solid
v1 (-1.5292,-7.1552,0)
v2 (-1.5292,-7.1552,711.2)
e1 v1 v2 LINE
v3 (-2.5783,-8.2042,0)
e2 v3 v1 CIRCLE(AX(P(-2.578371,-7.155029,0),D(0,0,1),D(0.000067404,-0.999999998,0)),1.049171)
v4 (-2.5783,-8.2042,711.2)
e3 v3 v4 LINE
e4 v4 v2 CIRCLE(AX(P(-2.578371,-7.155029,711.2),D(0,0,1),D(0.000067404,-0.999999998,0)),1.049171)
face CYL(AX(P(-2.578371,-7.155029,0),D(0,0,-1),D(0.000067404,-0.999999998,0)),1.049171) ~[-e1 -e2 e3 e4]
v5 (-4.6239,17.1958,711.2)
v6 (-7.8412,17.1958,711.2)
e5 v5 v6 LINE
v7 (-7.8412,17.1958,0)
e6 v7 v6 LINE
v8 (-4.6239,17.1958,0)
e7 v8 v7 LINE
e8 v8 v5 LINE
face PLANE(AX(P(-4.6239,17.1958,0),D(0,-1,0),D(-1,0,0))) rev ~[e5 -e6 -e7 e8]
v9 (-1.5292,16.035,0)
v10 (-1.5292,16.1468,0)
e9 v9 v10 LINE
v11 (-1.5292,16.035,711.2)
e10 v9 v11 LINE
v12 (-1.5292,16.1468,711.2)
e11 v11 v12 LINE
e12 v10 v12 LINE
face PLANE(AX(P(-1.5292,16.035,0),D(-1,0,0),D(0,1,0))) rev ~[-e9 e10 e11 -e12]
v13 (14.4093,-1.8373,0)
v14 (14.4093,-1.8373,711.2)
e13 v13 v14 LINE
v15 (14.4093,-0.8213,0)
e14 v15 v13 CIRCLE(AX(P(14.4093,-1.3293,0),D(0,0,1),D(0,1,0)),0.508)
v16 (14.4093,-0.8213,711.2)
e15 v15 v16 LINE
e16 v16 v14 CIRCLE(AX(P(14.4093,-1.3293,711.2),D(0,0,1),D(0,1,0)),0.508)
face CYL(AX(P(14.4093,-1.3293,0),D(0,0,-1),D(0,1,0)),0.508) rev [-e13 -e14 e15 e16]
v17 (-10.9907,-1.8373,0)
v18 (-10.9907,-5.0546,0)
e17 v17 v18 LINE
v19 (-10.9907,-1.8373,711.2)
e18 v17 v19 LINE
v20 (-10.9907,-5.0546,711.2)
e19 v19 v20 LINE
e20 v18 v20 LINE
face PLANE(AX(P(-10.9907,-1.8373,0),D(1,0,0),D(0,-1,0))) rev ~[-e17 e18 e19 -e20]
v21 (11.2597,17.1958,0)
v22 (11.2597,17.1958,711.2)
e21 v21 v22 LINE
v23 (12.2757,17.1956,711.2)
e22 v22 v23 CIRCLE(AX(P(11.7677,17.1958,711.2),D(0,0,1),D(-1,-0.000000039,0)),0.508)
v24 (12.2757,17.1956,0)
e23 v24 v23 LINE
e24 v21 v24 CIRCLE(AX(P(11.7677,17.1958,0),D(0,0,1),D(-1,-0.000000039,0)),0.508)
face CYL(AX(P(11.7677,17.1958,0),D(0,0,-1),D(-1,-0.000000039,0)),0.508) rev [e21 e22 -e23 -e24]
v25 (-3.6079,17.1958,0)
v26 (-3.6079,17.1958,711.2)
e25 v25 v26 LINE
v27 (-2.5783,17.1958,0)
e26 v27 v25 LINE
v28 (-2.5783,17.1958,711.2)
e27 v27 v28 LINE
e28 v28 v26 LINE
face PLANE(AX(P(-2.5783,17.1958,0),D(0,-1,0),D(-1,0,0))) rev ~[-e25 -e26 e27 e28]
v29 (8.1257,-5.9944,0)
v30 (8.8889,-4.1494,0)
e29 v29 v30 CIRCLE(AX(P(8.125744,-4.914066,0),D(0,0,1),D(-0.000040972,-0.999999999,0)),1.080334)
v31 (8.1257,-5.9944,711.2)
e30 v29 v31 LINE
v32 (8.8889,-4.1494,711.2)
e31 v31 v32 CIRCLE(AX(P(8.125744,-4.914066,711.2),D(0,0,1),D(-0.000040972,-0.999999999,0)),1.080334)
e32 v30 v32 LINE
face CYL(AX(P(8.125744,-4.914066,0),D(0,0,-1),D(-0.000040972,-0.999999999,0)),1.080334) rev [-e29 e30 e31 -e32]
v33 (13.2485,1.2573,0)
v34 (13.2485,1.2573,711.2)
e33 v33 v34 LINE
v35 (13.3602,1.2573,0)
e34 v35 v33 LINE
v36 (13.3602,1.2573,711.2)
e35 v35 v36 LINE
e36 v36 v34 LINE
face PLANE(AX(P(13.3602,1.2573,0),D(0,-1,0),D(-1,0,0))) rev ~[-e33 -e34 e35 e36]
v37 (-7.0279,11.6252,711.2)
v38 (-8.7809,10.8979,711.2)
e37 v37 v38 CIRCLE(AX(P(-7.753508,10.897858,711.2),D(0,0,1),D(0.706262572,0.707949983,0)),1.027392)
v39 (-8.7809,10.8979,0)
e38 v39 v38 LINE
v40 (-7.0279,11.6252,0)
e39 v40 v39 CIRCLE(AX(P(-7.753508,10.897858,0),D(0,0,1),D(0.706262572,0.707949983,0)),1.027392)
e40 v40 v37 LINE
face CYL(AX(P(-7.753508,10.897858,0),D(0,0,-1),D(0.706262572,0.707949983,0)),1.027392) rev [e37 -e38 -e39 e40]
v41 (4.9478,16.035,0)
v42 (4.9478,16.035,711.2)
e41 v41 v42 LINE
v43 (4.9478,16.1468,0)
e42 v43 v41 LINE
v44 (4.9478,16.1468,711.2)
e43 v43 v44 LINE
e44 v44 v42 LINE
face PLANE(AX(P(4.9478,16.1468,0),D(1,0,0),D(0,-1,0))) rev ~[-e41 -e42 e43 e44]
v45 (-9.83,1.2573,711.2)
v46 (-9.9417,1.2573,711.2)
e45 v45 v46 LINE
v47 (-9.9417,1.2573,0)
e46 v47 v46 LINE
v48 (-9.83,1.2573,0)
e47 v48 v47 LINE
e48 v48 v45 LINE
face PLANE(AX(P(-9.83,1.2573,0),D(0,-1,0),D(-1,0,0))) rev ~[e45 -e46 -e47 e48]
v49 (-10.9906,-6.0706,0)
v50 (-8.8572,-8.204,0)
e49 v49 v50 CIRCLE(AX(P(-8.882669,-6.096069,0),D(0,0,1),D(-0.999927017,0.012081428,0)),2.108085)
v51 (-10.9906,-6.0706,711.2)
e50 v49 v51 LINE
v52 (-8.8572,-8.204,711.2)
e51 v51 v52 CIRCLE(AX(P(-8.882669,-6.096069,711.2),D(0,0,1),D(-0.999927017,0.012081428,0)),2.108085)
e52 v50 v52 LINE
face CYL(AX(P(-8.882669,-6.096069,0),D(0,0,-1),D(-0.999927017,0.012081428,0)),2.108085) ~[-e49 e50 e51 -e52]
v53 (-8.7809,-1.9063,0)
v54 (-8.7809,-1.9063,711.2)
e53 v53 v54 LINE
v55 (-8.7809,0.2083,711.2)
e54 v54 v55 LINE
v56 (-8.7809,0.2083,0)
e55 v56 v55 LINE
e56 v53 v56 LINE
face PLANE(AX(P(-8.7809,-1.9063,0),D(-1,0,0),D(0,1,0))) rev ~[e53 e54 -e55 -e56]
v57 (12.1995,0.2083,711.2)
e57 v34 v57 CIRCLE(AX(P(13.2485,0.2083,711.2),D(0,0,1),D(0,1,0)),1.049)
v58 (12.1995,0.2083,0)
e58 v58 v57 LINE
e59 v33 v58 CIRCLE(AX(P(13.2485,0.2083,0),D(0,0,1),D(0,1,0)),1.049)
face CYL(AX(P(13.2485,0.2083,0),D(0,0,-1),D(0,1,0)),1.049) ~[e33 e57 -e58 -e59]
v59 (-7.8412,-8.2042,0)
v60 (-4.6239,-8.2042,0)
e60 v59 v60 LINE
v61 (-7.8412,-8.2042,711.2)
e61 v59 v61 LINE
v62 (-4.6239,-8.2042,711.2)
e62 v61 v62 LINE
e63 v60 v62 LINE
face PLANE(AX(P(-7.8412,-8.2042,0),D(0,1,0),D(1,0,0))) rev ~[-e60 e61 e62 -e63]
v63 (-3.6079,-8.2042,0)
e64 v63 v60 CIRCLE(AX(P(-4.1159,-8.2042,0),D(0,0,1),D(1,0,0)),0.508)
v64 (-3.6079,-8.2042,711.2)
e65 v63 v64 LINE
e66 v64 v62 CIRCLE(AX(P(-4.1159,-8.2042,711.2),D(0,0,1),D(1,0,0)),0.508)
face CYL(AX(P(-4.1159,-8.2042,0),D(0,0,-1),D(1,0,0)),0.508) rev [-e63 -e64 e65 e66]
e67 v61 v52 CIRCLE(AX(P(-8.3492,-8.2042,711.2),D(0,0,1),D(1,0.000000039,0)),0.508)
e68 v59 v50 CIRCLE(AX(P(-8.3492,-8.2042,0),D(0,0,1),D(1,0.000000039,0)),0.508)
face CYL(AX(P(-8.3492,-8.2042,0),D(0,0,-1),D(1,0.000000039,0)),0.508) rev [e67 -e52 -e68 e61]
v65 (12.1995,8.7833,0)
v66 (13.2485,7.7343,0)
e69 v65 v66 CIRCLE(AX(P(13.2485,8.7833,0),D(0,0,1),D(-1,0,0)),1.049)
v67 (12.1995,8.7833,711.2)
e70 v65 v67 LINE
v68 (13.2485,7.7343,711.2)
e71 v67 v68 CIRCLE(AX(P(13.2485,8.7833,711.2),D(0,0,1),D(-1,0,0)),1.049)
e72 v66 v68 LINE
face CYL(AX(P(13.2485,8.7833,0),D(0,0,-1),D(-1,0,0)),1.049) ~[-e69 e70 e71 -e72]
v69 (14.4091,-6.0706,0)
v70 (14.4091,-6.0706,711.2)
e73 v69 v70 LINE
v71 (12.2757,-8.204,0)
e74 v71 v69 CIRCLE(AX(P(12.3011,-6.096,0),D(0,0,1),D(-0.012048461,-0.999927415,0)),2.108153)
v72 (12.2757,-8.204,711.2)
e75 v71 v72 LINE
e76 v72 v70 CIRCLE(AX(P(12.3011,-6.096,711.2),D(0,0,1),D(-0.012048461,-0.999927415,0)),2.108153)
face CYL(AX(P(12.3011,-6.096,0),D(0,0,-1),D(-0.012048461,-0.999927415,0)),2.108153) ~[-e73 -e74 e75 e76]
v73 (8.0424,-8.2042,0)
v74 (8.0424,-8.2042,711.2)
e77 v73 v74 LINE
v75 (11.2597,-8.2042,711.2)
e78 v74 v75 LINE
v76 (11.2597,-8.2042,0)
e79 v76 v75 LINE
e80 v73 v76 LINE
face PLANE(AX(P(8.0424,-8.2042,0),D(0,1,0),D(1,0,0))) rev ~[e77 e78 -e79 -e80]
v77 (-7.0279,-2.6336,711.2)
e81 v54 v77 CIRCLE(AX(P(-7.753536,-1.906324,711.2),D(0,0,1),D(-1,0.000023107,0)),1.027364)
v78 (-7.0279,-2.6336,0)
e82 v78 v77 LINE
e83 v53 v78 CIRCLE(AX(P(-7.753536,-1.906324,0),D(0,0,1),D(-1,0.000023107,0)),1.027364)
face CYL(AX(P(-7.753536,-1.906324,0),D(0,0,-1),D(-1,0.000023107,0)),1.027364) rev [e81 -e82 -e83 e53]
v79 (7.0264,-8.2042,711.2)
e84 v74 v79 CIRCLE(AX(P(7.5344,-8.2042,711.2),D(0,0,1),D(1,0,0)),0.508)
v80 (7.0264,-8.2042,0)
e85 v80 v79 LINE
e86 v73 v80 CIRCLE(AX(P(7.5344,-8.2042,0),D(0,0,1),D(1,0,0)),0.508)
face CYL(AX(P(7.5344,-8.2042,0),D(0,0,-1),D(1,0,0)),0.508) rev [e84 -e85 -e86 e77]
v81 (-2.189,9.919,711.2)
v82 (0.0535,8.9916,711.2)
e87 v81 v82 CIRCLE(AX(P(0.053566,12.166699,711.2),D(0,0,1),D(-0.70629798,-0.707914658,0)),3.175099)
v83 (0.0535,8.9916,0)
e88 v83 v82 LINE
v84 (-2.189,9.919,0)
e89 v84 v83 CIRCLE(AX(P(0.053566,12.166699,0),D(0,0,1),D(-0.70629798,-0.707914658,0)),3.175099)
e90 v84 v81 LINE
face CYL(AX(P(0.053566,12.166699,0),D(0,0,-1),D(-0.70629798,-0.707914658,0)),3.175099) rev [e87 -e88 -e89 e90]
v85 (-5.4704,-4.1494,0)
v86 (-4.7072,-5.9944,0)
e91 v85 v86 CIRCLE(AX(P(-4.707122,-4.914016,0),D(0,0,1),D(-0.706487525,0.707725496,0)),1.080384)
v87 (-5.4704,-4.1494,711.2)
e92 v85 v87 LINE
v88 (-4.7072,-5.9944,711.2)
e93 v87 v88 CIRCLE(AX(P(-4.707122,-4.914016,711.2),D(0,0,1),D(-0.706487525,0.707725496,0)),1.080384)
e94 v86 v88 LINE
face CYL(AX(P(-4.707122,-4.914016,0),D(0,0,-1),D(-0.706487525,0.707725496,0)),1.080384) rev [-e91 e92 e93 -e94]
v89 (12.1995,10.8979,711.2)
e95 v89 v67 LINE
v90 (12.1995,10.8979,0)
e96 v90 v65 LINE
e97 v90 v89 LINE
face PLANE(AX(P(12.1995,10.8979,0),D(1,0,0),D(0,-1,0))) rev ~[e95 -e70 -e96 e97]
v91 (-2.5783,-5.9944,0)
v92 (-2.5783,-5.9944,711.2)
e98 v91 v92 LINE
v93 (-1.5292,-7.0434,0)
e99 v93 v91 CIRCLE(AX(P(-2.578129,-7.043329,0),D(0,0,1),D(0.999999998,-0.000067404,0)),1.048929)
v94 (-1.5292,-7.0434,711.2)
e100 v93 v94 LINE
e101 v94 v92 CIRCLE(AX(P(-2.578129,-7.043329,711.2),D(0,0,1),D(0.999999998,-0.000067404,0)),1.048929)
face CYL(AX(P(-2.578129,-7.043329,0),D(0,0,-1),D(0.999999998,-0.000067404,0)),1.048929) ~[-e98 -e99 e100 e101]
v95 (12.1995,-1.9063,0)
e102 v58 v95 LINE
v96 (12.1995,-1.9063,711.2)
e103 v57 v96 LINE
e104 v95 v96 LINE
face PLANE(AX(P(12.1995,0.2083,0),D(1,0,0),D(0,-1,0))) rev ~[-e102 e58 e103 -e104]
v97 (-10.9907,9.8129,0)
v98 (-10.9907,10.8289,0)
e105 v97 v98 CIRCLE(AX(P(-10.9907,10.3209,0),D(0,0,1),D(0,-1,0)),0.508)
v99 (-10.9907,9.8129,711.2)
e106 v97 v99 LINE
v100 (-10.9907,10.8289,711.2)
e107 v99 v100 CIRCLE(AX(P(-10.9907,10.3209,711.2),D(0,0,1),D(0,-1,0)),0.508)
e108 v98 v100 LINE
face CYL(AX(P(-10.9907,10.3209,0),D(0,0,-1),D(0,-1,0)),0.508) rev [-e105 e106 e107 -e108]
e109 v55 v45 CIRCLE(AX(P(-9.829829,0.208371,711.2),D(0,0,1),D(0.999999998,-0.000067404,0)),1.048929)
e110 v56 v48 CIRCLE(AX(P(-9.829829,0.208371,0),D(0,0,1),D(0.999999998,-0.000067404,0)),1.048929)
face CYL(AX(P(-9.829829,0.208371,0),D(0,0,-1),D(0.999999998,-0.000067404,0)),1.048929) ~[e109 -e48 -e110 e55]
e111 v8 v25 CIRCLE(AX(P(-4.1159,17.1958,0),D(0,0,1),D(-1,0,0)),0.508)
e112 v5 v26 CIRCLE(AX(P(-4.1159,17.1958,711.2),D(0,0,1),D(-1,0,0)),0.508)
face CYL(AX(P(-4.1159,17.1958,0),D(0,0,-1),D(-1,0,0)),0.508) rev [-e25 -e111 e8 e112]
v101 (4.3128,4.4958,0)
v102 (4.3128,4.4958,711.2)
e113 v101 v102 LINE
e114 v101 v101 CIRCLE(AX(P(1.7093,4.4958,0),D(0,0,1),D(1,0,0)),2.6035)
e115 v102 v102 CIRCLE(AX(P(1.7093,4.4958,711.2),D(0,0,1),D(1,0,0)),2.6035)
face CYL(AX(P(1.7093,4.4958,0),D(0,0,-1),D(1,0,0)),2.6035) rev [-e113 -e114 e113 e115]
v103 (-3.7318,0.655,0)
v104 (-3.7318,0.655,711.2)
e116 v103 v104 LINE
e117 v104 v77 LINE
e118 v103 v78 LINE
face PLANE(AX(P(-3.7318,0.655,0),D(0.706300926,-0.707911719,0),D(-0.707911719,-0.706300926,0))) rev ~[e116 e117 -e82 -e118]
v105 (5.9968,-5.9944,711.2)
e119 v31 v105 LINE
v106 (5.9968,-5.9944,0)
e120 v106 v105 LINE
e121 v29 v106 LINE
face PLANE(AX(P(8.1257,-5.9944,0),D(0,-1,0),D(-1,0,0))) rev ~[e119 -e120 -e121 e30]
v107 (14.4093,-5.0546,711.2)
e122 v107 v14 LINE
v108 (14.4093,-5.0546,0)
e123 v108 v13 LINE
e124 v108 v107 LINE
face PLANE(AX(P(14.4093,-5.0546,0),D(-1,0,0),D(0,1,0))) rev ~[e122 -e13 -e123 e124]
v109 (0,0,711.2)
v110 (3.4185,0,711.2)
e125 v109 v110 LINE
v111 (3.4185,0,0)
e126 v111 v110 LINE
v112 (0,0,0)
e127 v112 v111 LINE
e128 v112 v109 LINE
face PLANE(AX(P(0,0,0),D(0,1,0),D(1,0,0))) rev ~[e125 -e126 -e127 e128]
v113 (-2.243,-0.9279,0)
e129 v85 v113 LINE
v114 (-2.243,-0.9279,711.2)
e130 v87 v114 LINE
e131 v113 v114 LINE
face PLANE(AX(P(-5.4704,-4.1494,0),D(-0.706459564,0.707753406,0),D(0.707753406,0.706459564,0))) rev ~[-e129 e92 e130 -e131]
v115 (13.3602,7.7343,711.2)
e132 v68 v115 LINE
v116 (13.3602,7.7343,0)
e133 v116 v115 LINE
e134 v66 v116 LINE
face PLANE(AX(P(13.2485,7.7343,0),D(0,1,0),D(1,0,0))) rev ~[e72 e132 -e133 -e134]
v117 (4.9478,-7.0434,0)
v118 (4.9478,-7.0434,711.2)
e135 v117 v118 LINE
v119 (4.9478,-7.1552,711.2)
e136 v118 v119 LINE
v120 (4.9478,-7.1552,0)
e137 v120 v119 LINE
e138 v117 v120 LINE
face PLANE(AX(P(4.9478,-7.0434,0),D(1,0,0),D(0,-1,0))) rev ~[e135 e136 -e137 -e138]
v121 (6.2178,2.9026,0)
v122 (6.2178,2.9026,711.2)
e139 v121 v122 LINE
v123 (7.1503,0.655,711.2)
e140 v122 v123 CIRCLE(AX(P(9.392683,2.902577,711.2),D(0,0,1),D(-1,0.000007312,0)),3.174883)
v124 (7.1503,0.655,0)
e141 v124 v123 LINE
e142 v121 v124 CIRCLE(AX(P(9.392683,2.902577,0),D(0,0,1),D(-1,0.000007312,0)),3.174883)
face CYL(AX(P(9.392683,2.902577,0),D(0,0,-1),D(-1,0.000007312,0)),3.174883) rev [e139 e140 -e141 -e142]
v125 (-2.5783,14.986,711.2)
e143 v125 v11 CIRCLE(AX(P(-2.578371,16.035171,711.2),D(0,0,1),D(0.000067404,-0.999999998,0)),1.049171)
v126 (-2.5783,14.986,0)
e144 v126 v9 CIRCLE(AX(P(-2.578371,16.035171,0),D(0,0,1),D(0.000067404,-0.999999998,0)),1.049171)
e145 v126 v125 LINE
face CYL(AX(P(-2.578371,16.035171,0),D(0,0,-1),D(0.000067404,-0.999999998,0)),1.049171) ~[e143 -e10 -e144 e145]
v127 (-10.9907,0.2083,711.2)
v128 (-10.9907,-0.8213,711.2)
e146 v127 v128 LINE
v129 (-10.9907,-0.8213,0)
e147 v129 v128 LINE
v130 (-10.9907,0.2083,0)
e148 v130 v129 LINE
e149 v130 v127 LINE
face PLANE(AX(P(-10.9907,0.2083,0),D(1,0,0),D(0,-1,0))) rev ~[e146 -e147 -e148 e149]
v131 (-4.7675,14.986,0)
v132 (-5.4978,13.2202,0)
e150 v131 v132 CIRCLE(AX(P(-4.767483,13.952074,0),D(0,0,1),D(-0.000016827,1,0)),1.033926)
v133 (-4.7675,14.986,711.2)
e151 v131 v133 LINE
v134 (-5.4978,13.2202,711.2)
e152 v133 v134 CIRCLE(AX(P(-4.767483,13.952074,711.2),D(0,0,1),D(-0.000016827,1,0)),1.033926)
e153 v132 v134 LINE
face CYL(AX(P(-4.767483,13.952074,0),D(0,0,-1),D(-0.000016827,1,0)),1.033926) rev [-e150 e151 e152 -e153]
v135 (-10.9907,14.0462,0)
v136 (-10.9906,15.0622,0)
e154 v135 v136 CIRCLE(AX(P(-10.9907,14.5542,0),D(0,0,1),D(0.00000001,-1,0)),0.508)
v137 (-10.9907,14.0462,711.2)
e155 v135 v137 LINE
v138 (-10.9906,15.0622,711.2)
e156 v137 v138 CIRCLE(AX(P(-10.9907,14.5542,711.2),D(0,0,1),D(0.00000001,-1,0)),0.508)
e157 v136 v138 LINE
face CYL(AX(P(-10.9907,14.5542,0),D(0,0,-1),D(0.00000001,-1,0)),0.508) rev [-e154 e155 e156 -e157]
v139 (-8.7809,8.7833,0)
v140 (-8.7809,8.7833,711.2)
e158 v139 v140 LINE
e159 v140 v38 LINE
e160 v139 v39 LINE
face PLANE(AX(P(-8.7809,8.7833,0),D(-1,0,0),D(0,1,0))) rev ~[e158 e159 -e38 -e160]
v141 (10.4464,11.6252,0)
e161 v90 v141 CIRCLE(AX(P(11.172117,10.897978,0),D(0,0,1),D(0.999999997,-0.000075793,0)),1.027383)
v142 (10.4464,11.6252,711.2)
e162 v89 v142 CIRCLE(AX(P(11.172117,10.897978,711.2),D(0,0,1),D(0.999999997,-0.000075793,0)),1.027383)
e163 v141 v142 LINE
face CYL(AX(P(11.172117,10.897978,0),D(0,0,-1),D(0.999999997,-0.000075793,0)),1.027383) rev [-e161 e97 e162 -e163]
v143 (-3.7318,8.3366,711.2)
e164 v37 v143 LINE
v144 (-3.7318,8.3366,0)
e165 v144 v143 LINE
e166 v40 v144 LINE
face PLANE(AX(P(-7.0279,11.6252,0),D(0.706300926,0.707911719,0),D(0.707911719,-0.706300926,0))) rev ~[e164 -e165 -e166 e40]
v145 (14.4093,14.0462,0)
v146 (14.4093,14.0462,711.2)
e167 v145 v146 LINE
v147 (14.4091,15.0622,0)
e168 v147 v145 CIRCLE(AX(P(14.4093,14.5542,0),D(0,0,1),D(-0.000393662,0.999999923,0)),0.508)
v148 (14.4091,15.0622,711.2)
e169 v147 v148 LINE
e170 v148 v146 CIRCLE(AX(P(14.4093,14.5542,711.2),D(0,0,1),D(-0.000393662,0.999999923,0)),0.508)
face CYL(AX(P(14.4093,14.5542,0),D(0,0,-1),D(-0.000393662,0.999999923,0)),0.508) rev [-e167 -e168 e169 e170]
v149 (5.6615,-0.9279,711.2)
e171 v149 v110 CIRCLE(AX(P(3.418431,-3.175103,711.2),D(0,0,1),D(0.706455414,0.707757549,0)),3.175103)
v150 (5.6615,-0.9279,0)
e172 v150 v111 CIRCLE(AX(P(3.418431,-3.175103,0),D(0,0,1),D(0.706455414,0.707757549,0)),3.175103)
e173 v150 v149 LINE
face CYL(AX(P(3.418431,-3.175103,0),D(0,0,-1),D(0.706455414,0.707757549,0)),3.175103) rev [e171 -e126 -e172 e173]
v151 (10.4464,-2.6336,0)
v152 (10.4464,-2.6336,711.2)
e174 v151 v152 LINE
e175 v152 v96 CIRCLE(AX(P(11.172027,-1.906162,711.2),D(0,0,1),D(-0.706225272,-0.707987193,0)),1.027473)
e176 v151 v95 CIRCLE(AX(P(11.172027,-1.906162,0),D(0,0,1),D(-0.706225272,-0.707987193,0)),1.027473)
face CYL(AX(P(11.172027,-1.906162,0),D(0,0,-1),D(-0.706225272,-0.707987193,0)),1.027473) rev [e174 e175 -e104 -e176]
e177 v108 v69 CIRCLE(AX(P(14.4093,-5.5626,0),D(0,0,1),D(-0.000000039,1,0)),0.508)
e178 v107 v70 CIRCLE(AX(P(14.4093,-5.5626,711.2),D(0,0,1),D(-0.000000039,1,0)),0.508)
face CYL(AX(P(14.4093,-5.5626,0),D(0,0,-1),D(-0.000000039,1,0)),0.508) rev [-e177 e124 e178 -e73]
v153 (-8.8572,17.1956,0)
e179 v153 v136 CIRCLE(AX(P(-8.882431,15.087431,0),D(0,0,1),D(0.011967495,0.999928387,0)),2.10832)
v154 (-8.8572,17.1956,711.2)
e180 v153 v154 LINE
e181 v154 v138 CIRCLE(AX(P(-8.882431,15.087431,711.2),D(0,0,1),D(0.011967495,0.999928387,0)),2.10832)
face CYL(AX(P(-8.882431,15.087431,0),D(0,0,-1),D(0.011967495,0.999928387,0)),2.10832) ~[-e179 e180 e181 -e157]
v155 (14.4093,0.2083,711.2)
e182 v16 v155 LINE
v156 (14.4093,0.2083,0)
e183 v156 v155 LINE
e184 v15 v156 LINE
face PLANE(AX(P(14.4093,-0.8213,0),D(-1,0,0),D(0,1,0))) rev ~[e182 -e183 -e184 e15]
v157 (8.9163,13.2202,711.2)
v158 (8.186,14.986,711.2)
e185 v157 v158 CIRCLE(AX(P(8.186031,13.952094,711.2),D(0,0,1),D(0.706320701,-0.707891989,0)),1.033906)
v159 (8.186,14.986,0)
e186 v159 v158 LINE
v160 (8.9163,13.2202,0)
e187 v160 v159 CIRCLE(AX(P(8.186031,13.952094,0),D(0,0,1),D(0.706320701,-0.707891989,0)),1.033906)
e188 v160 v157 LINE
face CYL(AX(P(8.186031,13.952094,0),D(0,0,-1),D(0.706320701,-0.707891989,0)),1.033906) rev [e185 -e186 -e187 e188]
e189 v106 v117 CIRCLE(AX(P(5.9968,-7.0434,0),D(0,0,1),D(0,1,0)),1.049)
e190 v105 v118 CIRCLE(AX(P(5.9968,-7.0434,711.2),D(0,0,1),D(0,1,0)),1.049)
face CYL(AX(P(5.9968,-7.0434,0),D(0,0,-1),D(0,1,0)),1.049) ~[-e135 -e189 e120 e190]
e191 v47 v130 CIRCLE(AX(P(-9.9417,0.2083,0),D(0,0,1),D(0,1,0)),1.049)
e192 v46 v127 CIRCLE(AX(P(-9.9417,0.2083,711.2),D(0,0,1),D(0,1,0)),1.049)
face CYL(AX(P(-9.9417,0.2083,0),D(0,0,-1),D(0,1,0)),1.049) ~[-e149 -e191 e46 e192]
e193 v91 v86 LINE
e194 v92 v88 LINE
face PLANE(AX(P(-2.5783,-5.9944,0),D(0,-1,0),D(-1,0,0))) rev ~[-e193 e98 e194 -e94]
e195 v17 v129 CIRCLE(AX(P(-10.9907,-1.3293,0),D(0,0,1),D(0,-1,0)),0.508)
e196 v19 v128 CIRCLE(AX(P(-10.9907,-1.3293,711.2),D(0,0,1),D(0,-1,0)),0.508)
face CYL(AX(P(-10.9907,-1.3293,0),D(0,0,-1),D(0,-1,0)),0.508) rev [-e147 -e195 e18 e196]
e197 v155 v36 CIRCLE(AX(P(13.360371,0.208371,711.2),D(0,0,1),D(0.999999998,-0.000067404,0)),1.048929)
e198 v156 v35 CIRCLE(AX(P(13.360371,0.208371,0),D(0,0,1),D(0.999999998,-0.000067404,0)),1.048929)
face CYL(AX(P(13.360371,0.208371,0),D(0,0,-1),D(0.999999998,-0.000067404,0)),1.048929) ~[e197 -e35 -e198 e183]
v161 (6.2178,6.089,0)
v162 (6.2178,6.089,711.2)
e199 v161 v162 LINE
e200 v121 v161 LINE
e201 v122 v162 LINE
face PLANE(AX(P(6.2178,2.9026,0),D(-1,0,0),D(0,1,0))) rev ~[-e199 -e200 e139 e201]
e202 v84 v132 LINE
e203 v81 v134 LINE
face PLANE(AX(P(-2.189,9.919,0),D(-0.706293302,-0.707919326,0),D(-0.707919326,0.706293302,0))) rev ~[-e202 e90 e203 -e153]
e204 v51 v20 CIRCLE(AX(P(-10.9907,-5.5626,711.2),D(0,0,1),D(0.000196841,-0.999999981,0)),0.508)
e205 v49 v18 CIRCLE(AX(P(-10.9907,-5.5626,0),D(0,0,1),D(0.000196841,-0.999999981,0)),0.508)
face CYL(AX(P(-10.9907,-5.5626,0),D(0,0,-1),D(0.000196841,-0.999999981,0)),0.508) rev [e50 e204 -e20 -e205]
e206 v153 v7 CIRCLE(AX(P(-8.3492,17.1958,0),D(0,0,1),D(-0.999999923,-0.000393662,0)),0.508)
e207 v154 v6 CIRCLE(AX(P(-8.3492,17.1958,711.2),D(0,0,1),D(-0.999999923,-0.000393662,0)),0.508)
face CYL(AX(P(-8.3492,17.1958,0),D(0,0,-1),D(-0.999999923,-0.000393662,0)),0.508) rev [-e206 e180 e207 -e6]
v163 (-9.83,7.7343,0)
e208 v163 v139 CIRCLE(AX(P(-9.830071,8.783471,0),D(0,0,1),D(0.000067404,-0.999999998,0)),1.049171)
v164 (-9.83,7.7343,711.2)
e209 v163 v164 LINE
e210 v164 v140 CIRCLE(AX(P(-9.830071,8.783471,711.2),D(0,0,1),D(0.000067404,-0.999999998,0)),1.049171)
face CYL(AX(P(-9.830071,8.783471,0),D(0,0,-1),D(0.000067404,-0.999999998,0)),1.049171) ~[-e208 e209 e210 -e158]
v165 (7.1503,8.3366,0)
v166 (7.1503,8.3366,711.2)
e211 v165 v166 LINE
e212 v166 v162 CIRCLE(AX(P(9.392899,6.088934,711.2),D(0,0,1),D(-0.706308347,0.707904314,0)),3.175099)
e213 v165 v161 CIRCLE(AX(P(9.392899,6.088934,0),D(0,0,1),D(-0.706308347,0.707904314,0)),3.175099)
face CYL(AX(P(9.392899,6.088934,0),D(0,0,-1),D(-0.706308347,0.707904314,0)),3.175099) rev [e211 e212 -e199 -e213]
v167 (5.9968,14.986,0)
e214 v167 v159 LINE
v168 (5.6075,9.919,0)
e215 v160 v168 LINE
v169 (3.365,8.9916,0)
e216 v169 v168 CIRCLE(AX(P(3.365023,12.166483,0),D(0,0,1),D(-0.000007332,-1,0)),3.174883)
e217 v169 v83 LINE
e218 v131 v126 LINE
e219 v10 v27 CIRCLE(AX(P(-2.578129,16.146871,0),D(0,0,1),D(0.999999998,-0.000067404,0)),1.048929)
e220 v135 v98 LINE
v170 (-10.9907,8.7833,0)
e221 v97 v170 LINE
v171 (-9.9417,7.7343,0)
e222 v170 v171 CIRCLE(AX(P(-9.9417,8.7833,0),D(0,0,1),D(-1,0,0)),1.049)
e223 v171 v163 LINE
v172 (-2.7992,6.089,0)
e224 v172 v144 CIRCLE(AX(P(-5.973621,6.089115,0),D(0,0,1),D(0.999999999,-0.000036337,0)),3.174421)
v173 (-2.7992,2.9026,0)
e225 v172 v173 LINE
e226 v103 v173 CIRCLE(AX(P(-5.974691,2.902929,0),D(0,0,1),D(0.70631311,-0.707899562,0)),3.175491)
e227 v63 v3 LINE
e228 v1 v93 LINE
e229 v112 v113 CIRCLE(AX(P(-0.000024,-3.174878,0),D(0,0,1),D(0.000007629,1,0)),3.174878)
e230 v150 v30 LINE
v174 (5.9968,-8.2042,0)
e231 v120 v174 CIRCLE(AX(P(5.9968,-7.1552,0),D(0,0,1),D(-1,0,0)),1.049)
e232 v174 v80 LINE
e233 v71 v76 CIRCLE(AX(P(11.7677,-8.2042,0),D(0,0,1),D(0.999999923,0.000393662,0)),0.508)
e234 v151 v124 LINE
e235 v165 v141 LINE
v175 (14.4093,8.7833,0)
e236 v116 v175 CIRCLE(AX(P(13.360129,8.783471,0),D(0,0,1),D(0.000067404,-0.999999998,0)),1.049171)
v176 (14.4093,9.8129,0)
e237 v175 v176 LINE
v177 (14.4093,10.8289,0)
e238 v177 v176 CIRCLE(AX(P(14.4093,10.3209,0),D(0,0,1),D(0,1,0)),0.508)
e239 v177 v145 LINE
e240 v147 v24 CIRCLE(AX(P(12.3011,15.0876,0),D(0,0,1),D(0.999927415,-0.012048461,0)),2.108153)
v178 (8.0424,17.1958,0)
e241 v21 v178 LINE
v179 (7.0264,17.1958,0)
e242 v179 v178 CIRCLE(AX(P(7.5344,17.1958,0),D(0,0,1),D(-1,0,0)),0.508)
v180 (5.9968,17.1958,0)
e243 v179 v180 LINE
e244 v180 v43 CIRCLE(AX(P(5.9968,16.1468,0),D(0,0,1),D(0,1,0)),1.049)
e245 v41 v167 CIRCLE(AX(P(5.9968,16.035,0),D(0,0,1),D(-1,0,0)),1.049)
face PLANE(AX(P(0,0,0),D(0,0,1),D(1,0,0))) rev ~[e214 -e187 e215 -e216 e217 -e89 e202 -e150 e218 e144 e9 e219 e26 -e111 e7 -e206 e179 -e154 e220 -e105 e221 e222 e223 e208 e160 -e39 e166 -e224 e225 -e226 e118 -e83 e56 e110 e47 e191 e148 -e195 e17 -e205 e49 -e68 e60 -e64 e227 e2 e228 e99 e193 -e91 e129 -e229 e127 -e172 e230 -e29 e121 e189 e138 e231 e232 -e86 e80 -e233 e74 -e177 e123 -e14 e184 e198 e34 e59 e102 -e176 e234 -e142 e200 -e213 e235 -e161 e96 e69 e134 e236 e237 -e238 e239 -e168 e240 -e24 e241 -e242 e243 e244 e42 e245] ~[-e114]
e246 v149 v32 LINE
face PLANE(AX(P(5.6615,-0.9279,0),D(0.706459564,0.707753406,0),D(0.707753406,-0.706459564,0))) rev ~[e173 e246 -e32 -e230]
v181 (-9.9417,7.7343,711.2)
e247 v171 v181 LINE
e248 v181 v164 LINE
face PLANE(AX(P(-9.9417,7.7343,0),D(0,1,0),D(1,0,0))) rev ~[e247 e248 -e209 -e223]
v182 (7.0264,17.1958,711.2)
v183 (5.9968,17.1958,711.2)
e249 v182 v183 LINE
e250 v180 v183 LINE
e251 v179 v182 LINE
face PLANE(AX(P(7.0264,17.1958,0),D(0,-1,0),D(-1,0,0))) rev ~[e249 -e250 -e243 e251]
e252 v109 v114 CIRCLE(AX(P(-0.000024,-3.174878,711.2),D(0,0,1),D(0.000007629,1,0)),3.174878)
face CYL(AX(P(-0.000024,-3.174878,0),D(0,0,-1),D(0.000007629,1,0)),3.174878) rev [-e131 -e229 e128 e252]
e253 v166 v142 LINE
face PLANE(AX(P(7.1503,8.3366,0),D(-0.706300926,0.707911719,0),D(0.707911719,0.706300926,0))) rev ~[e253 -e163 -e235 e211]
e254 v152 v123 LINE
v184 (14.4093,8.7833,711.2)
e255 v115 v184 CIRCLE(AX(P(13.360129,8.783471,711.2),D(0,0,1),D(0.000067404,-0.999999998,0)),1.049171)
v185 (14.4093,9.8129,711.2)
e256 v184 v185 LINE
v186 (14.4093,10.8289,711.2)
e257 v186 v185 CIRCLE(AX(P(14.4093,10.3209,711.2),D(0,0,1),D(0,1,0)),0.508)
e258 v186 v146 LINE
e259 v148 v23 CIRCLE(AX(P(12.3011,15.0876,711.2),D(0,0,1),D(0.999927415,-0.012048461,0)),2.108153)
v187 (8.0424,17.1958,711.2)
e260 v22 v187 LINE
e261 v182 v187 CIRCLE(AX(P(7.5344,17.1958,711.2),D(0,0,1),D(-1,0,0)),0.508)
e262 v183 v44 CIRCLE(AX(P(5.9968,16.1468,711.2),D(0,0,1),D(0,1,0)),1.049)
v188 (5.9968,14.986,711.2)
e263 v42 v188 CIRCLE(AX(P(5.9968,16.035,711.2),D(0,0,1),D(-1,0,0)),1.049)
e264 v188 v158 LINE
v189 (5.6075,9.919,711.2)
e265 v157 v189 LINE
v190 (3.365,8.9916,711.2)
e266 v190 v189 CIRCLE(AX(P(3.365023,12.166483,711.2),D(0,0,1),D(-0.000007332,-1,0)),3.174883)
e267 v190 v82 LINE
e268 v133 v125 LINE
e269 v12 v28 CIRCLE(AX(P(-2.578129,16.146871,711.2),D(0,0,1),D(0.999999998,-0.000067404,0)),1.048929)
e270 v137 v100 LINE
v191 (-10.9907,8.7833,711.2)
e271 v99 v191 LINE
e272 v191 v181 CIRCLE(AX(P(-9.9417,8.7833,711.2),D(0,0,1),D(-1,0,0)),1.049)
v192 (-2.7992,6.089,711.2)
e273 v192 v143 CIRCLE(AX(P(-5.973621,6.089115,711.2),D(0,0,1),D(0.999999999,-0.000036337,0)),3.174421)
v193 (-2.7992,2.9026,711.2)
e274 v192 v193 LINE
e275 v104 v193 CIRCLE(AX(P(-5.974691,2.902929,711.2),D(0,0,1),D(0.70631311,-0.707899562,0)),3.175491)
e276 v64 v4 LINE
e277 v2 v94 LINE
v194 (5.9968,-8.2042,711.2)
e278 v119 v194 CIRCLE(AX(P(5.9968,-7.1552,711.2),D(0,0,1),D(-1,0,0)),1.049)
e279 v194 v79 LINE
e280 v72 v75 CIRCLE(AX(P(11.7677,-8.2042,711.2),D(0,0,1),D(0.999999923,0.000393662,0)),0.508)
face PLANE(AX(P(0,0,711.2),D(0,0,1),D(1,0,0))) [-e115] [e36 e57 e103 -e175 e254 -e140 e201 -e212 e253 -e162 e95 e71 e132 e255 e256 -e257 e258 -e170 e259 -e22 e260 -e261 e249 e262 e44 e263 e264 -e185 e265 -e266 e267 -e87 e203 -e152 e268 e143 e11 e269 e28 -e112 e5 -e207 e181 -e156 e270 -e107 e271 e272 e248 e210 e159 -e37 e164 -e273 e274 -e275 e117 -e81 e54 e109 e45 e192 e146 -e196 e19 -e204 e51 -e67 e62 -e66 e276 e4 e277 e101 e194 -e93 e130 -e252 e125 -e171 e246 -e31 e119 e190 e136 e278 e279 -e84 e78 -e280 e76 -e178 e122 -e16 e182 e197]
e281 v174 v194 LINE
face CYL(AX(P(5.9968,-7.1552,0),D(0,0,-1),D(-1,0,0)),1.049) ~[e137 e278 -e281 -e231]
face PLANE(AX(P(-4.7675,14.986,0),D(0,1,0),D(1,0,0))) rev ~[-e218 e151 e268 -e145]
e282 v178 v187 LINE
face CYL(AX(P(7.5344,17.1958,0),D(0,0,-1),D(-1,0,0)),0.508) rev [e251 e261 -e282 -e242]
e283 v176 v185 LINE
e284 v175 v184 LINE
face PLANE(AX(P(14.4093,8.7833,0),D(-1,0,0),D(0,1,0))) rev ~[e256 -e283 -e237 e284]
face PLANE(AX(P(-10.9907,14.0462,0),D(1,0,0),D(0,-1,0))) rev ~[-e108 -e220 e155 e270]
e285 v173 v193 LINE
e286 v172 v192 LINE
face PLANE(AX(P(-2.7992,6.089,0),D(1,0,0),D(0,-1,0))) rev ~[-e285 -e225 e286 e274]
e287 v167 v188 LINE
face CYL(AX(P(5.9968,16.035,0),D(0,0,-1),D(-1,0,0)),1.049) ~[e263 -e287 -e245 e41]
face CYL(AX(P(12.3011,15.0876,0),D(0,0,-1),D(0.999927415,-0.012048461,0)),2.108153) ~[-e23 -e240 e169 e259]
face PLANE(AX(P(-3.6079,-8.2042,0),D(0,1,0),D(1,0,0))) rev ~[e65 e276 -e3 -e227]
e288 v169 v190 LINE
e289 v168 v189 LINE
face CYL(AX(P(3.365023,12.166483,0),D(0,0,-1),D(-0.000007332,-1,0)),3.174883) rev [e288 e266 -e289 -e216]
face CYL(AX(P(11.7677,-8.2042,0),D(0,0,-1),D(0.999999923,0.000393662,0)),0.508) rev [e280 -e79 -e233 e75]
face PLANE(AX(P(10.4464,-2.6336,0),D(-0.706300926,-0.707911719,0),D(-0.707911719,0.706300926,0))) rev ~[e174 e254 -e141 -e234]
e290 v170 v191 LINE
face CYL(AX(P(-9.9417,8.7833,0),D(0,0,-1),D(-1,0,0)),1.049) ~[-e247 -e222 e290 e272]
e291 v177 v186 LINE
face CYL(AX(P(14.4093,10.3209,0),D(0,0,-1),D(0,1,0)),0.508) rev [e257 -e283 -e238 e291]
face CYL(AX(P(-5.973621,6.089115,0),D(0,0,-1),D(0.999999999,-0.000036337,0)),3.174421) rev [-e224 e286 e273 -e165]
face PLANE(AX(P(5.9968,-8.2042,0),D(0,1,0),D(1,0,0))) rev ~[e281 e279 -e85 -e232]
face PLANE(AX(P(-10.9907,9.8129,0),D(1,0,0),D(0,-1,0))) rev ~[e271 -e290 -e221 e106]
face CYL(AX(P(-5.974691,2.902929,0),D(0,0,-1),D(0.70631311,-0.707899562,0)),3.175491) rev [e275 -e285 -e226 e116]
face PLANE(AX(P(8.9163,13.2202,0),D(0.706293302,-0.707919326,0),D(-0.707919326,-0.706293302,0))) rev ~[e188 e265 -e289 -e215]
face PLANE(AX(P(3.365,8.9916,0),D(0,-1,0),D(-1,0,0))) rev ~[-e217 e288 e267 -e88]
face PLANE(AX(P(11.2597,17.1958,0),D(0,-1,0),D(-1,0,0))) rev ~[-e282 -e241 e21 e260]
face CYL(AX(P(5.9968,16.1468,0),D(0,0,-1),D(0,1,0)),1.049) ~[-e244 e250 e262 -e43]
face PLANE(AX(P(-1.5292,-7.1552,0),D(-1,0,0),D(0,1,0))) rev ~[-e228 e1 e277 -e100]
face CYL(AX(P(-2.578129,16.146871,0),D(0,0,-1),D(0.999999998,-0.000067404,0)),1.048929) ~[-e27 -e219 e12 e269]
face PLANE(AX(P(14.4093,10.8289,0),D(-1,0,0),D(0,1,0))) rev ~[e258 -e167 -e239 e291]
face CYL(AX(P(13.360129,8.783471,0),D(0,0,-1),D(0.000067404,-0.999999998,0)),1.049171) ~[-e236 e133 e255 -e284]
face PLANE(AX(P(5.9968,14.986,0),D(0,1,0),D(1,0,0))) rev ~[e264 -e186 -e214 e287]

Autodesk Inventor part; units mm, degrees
ref_plane "YZ Plane" through (0, 0, 0) normal (1, 0, 0) x (0, 1, 0)
ref_plane "XZ Plane" through (0, 0, 0) normal (0, 1, 0) x (-1, 0, 0)
ref_plane "XY Plane" through (0, 0, 0) normal (0, 0, 1) x (1, 0, 0)
sketch "Sketch1" plane through (0, 0, 0) normal (0, 0, 1) x (1, 0, 0)
  arc A0 (-5.4704, -4.1494) -> (-4.7072, -5.9944) centre (-4.7072, -4.914) ccw
  line L0 (-5.4704, -4.1494) -> (-2.243, -0.9279)
  arc A1 (0, 0) -> (-2.243, -0.9279) centre (0, -3.175) ccw
  line L1 (0, 0) -> (3.4185, 0)
  arc A2 (5.6615, -0.9279) -> (3.4185, 0) centre (3.4185, -3.175) ccw
  line L2 (5.6615, -0.9279) -> (8.8889, -4.1494)
  arc A3 (8.1257, -5.9944) -> (8.8889, -4.1494) centre (8.1257, -4.914) ccw
  line L3 (8.1257, -5.9944) -> (5.9968, -5.9944)
  arc A4 (5.9968, -5.9944) -> (4.9478, -7.0434) centre (5.9968, -7.0434) ccw
  line L4 (4.9478, -7.0434) -> (4.9478, -7.1552)
  arc A5 (4.9478, -7.1552) -> (5.9968, -8.2042) centre (5.9968, -7.1552) ccw
  line L5 (5.9968, -8.2042) -> (7.0264, -8.2042)
  arc A6 (8.0424, -8.2042) -> (7.0264, -8.2042) centre (7.5344, -8.2042) ccw
  line L6 (8.0424, -8.2042) -> (11.2597, -8.2042)
  arc A7 (12.2757, -8.204) -> (11.2597, -8.2042) centre (11.7677, -8.2042) ccw
  arc A8 (12.2757, -8.204) -> (14.4091, -6.0706) centre (12.3011, -6.096) ccw
  arc A9 (14.4093, -5.0546) -> (14.4091, -6.0706) centre (14.4093, -5.5626) ccw
  line L7 (14.4093, -5.0546) -> (14.4093, -1.8373)
  arc A10 (14.4093, -0.8213) -> (14.4093, -1.8373) centre (14.4093, -1.3293) ccw
  line L8 (14.4093, -0.8213) -> (14.4093, 0.2083)
  arc A11 (14.4093, 0.2083) -> (13.3602, 1.2573) centre (13.3602, 0.2083) ccw
  line L9 (13.3602, 1.2573) -> (13.2485, 1.2573)
  arc A12 (13.2485, 1.2573) -> (12.1995, 0.2083) centre (13.2485, 0.2083) ccw
  line L10 (12.1995, 0.2083) -> (12.1995, -1.9063)
  arc A13 (10.4464, -2.6336) -> (12.1995, -1.9063) centre (11.172, -1.9063) ccw
  line L11 (10.4464, -2.6336) -> (7.1503, 0.655)
  arc A14 (6.2178, 2.9026) -> (7.1503, 0.655) centre (9.3928, 2.9026) ccw
  line L12 (6.2178, 2.9026) -> (6.2178, 6.089)
  arc A15 (7.1503, 8.3366) -> (6.2178, 6.089) centre (9.3928, 6.089) ccw
  line L13 (7.1503, 8.3366) -> (10.4464, 11.6252)
  arc A16 (12.1995, 10.8979) -> (10.4464, 11.6252) centre (11.172, 10.8979) ccw
  line L14 (12.1995, 10.8979) -> (12.1995, 8.7833)
  arc A17 (12.1995, 8.7833) -> (13.2485, 7.7343) centre (13.2485, 8.7833) ccw
  line L15 (13.2485, 7.7343) -> (13.3602, 7.7343)
  arc A18 (13.3602, 7.7343) -> (14.4093, 8.7833) centre (13.3602, 8.7833) ccw
  line L16 (14.4093, 8.7833) -> (14.4093, 9.8129)
  arc A19 (14.4093, 10.8289) -> (14.4093, 9.8129) centre (14.4093, 10.3209) ccw
  line L17 (14.4093, 10.8289) -> (14.4093, 14.0462)
  arc A20 (14.4091, 15.0622) -> (14.4093, 14.0462) centre (14.4093, 14.5542) ccw
  arc A21 (14.4091, 15.0622) -> (12.2757, 17.1956) centre (12.3011, 15.0876) ccw
  arc A22 (11.2597, 17.1958) -> (12.2757, 17.1956) centre (11.7677, 17.1958) ccw
  line L18 (11.2597, 17.1958) -> (8.0424, 17.1958)
  arc A23 (7.0264, 17.1958) -> (8.0424, 17.1958) centre (7.5344, 17.1958) ccw
  line L19 (7.0264, 17.1958) -> (5.9968, 17.1958)
  arc A24 (5.9968, 17.1958) -> (4.9478, 16.1468) centre (5.9968, 16.1468) ccw
  line L20 (4.9478, 16.1468) -> (4.9478, 16.035)
  arc A25 (4.9478, 16.035) -> (5.9968, 14.986) centre (5.9968, 16.035) ccw
  line L21 (5.9968, 14.986) -> (8.186, 14.986)
  arc A26 (8.9163, 13.2202) -> (8.186, 14.986) centre (8.186, 13.9521) ccw
  line L22 (8.9163, 13.2202) -> (5.6075, 9.919)
  arc A27 (3.365, 8.9916) -> (5.6075, 9.919) centre (3.365, 12.1666) ccw
  line L23 (3.365, 8.9916) -> (0.0535, 8.9916)
  arc A28 (-2.189, 9.919) -> (0.0535, 8.9916) centre (0.0535, 12.1666) ccw
  line L24 (-2.189, 9.919) -> (-5.4978, 13.2202)
  arc A29 (-4.7675, 14.986) -> (-5.4978, 13.2202) centre (-4.7675, 13.9521) ccw
  line L25 (-4.7675, 14.986) -> (-2.5783, 14.986)
  arc A30 (-2.5783, 14.986) -> (-1.5292, 16.035) centre (-2.5783, 16.035) ccw
  line L26 (-1.5292, 16.035) -> (-1.5292, 16.1468)
  arc A31 (-1.5292, 16.1468) -> (-2.5783, 17.1958) centre (-2.5783, 16.1468) ccw
  line L27 (-2.5783, 17.1958) -> (-3.6079, 17.1958)
  arc A32 (-4.6239, 17.1958) -> (-3.6079, 17.1958) centre (-4.1159, 17.1958) ccw
  line L28 (-4.6239, 17.1958) -> (-7.8412, 17.1958)
  arc A33 (-8.8572, 17.1956) -> (-7.8412, 17.1958) centre (-8.3492, 17.1958) ccw
  arc A34 (-8.8572, 17.1956) -> (-10.9906, 15.0622) centre (-8.8825, 15.0876) ccw
  arc A35 (-10.9907, 14.0462) -> (-10.9906, 15.0622) centre (-10.9907, 14.5542) ccw
  line L29 (-10.9907, 14.0462) -> (-10.9907, 10.8289)
  arc A36 (-10.9907, 9.8129) -> (-10.9907, 10.8289) centre (-10.9907, 10.3209) ccw
  line L30 (-10.9907, 9.8129) -> (-10.9907, 8.7833)
  arc A37 (-10.9907, 8.7833) -> (-9.9417, 7.7343) centre (-9.9417, 8.7833) ccw
  line L31 (-9.9417, 7.7343) -> (-9.83, 7.7343)
  arc A38 (-9.83, 7.7343) -> (-8.7809, 8.7833) centre (-9.83, 8.7833) ccw
  line L32 (-8.7809, 8.7833) -> (-8.7809, 10.8979)
  arc A39 (-7.0279, 11.6252) -> (-8.7809, 10.8979) centre (-7.7535, 10.8979) ccw
  line L33 (-7.0279, 11.6252) -> (-3.7318, 8.3366)
  arc A40 (-2.7992, 6.089) -> (-3.7318, 8.3366) centre (-5.9742, 6.089) ccw
  line L34 (-2.7992, 6.089) -> (-2.7992, 2.9026)
  arc A41 (-3.7318, 0.655) -> (-2.7992, 2.9026) centre (-5.9742, 2.9026) ccw
  line L35 (-3.7318, 0.655) -> (-7.0279, -2.6336)
  arc A42 (-8.7809, -1.9063) -> (-7.0279, -2.6336) centre (-7.7535, -1.9063) ccw
  line L36 (-8.7809, -1.9063) -> (-8.7809, 0.2083)
  arc A43 (-8.7809, 0.2083) -> (-9.83, 1.2573) centre (-9.83, 0.2083) ccw
  line L37 (-9.83, 1.2573) -> (-9.9417, 1.2573)
  arc A44 (-9.9417, 1.2573) -> (-10.9907, 0.2083) centre (-9.9417, 0.2083) ccw
  line L38 (-10.9907, 0.2083) -> (-10.9907, -0.8213)
  arc A45 (-10.9907, -1.8373) -> (-10.9907, -0.8213) centre (-10.9907, -1.3293) ccw
  line L39 (-10.9907, -1.8373) -> (-10.9907, -5.0546)
  arc A46 (-10.9906, -6.0706) -> (-10.9907, -5.0546) centre (-10.9907, -5.5626) ccw
  arc A47 (-10.9906, -6.0706) -> (-8.8572, -8.204) centre (-8.8825, -6.096) ccw
  arc A48 (-7.8412, -8.2042) -> (-8.8572, -8.204) centre (-8.3492, -8.2042) ccw
  line L40 (-7.8412, -8.2042) -> (-4.6239, -8.2042)
  arc A49 (-3.6079, -8.2042) -> (-4.6239, -8.2042) centre (-4.1159, -8.2042) ccw
  line L41 (-3.6079, -8.2042) -> (-2.5783, -8.2042)
  arc A50 (-2.5783, -8.2042) -> (-1.5292, -7.1552) centre (-2.5783, -7.1552) ccw
  line L42 (-1.5292, -7.1552) -> (-1.5292, -7.0434)
  arc A51 (-1.5292, -7.0434) -> (-2.5783, -5.9944) centre (-2.5783, -7.0434) ccw
  line L43 (-2.5783, -5.9944) -> (-4.7072, -5.9944)
  circle A52 centre (1.7093, 4.4958) radius 2.6035
extrude "Extrusion1" add sketch "Sketch1" along normal blind 711.2
properties part number "28in 1x1 T slot"
